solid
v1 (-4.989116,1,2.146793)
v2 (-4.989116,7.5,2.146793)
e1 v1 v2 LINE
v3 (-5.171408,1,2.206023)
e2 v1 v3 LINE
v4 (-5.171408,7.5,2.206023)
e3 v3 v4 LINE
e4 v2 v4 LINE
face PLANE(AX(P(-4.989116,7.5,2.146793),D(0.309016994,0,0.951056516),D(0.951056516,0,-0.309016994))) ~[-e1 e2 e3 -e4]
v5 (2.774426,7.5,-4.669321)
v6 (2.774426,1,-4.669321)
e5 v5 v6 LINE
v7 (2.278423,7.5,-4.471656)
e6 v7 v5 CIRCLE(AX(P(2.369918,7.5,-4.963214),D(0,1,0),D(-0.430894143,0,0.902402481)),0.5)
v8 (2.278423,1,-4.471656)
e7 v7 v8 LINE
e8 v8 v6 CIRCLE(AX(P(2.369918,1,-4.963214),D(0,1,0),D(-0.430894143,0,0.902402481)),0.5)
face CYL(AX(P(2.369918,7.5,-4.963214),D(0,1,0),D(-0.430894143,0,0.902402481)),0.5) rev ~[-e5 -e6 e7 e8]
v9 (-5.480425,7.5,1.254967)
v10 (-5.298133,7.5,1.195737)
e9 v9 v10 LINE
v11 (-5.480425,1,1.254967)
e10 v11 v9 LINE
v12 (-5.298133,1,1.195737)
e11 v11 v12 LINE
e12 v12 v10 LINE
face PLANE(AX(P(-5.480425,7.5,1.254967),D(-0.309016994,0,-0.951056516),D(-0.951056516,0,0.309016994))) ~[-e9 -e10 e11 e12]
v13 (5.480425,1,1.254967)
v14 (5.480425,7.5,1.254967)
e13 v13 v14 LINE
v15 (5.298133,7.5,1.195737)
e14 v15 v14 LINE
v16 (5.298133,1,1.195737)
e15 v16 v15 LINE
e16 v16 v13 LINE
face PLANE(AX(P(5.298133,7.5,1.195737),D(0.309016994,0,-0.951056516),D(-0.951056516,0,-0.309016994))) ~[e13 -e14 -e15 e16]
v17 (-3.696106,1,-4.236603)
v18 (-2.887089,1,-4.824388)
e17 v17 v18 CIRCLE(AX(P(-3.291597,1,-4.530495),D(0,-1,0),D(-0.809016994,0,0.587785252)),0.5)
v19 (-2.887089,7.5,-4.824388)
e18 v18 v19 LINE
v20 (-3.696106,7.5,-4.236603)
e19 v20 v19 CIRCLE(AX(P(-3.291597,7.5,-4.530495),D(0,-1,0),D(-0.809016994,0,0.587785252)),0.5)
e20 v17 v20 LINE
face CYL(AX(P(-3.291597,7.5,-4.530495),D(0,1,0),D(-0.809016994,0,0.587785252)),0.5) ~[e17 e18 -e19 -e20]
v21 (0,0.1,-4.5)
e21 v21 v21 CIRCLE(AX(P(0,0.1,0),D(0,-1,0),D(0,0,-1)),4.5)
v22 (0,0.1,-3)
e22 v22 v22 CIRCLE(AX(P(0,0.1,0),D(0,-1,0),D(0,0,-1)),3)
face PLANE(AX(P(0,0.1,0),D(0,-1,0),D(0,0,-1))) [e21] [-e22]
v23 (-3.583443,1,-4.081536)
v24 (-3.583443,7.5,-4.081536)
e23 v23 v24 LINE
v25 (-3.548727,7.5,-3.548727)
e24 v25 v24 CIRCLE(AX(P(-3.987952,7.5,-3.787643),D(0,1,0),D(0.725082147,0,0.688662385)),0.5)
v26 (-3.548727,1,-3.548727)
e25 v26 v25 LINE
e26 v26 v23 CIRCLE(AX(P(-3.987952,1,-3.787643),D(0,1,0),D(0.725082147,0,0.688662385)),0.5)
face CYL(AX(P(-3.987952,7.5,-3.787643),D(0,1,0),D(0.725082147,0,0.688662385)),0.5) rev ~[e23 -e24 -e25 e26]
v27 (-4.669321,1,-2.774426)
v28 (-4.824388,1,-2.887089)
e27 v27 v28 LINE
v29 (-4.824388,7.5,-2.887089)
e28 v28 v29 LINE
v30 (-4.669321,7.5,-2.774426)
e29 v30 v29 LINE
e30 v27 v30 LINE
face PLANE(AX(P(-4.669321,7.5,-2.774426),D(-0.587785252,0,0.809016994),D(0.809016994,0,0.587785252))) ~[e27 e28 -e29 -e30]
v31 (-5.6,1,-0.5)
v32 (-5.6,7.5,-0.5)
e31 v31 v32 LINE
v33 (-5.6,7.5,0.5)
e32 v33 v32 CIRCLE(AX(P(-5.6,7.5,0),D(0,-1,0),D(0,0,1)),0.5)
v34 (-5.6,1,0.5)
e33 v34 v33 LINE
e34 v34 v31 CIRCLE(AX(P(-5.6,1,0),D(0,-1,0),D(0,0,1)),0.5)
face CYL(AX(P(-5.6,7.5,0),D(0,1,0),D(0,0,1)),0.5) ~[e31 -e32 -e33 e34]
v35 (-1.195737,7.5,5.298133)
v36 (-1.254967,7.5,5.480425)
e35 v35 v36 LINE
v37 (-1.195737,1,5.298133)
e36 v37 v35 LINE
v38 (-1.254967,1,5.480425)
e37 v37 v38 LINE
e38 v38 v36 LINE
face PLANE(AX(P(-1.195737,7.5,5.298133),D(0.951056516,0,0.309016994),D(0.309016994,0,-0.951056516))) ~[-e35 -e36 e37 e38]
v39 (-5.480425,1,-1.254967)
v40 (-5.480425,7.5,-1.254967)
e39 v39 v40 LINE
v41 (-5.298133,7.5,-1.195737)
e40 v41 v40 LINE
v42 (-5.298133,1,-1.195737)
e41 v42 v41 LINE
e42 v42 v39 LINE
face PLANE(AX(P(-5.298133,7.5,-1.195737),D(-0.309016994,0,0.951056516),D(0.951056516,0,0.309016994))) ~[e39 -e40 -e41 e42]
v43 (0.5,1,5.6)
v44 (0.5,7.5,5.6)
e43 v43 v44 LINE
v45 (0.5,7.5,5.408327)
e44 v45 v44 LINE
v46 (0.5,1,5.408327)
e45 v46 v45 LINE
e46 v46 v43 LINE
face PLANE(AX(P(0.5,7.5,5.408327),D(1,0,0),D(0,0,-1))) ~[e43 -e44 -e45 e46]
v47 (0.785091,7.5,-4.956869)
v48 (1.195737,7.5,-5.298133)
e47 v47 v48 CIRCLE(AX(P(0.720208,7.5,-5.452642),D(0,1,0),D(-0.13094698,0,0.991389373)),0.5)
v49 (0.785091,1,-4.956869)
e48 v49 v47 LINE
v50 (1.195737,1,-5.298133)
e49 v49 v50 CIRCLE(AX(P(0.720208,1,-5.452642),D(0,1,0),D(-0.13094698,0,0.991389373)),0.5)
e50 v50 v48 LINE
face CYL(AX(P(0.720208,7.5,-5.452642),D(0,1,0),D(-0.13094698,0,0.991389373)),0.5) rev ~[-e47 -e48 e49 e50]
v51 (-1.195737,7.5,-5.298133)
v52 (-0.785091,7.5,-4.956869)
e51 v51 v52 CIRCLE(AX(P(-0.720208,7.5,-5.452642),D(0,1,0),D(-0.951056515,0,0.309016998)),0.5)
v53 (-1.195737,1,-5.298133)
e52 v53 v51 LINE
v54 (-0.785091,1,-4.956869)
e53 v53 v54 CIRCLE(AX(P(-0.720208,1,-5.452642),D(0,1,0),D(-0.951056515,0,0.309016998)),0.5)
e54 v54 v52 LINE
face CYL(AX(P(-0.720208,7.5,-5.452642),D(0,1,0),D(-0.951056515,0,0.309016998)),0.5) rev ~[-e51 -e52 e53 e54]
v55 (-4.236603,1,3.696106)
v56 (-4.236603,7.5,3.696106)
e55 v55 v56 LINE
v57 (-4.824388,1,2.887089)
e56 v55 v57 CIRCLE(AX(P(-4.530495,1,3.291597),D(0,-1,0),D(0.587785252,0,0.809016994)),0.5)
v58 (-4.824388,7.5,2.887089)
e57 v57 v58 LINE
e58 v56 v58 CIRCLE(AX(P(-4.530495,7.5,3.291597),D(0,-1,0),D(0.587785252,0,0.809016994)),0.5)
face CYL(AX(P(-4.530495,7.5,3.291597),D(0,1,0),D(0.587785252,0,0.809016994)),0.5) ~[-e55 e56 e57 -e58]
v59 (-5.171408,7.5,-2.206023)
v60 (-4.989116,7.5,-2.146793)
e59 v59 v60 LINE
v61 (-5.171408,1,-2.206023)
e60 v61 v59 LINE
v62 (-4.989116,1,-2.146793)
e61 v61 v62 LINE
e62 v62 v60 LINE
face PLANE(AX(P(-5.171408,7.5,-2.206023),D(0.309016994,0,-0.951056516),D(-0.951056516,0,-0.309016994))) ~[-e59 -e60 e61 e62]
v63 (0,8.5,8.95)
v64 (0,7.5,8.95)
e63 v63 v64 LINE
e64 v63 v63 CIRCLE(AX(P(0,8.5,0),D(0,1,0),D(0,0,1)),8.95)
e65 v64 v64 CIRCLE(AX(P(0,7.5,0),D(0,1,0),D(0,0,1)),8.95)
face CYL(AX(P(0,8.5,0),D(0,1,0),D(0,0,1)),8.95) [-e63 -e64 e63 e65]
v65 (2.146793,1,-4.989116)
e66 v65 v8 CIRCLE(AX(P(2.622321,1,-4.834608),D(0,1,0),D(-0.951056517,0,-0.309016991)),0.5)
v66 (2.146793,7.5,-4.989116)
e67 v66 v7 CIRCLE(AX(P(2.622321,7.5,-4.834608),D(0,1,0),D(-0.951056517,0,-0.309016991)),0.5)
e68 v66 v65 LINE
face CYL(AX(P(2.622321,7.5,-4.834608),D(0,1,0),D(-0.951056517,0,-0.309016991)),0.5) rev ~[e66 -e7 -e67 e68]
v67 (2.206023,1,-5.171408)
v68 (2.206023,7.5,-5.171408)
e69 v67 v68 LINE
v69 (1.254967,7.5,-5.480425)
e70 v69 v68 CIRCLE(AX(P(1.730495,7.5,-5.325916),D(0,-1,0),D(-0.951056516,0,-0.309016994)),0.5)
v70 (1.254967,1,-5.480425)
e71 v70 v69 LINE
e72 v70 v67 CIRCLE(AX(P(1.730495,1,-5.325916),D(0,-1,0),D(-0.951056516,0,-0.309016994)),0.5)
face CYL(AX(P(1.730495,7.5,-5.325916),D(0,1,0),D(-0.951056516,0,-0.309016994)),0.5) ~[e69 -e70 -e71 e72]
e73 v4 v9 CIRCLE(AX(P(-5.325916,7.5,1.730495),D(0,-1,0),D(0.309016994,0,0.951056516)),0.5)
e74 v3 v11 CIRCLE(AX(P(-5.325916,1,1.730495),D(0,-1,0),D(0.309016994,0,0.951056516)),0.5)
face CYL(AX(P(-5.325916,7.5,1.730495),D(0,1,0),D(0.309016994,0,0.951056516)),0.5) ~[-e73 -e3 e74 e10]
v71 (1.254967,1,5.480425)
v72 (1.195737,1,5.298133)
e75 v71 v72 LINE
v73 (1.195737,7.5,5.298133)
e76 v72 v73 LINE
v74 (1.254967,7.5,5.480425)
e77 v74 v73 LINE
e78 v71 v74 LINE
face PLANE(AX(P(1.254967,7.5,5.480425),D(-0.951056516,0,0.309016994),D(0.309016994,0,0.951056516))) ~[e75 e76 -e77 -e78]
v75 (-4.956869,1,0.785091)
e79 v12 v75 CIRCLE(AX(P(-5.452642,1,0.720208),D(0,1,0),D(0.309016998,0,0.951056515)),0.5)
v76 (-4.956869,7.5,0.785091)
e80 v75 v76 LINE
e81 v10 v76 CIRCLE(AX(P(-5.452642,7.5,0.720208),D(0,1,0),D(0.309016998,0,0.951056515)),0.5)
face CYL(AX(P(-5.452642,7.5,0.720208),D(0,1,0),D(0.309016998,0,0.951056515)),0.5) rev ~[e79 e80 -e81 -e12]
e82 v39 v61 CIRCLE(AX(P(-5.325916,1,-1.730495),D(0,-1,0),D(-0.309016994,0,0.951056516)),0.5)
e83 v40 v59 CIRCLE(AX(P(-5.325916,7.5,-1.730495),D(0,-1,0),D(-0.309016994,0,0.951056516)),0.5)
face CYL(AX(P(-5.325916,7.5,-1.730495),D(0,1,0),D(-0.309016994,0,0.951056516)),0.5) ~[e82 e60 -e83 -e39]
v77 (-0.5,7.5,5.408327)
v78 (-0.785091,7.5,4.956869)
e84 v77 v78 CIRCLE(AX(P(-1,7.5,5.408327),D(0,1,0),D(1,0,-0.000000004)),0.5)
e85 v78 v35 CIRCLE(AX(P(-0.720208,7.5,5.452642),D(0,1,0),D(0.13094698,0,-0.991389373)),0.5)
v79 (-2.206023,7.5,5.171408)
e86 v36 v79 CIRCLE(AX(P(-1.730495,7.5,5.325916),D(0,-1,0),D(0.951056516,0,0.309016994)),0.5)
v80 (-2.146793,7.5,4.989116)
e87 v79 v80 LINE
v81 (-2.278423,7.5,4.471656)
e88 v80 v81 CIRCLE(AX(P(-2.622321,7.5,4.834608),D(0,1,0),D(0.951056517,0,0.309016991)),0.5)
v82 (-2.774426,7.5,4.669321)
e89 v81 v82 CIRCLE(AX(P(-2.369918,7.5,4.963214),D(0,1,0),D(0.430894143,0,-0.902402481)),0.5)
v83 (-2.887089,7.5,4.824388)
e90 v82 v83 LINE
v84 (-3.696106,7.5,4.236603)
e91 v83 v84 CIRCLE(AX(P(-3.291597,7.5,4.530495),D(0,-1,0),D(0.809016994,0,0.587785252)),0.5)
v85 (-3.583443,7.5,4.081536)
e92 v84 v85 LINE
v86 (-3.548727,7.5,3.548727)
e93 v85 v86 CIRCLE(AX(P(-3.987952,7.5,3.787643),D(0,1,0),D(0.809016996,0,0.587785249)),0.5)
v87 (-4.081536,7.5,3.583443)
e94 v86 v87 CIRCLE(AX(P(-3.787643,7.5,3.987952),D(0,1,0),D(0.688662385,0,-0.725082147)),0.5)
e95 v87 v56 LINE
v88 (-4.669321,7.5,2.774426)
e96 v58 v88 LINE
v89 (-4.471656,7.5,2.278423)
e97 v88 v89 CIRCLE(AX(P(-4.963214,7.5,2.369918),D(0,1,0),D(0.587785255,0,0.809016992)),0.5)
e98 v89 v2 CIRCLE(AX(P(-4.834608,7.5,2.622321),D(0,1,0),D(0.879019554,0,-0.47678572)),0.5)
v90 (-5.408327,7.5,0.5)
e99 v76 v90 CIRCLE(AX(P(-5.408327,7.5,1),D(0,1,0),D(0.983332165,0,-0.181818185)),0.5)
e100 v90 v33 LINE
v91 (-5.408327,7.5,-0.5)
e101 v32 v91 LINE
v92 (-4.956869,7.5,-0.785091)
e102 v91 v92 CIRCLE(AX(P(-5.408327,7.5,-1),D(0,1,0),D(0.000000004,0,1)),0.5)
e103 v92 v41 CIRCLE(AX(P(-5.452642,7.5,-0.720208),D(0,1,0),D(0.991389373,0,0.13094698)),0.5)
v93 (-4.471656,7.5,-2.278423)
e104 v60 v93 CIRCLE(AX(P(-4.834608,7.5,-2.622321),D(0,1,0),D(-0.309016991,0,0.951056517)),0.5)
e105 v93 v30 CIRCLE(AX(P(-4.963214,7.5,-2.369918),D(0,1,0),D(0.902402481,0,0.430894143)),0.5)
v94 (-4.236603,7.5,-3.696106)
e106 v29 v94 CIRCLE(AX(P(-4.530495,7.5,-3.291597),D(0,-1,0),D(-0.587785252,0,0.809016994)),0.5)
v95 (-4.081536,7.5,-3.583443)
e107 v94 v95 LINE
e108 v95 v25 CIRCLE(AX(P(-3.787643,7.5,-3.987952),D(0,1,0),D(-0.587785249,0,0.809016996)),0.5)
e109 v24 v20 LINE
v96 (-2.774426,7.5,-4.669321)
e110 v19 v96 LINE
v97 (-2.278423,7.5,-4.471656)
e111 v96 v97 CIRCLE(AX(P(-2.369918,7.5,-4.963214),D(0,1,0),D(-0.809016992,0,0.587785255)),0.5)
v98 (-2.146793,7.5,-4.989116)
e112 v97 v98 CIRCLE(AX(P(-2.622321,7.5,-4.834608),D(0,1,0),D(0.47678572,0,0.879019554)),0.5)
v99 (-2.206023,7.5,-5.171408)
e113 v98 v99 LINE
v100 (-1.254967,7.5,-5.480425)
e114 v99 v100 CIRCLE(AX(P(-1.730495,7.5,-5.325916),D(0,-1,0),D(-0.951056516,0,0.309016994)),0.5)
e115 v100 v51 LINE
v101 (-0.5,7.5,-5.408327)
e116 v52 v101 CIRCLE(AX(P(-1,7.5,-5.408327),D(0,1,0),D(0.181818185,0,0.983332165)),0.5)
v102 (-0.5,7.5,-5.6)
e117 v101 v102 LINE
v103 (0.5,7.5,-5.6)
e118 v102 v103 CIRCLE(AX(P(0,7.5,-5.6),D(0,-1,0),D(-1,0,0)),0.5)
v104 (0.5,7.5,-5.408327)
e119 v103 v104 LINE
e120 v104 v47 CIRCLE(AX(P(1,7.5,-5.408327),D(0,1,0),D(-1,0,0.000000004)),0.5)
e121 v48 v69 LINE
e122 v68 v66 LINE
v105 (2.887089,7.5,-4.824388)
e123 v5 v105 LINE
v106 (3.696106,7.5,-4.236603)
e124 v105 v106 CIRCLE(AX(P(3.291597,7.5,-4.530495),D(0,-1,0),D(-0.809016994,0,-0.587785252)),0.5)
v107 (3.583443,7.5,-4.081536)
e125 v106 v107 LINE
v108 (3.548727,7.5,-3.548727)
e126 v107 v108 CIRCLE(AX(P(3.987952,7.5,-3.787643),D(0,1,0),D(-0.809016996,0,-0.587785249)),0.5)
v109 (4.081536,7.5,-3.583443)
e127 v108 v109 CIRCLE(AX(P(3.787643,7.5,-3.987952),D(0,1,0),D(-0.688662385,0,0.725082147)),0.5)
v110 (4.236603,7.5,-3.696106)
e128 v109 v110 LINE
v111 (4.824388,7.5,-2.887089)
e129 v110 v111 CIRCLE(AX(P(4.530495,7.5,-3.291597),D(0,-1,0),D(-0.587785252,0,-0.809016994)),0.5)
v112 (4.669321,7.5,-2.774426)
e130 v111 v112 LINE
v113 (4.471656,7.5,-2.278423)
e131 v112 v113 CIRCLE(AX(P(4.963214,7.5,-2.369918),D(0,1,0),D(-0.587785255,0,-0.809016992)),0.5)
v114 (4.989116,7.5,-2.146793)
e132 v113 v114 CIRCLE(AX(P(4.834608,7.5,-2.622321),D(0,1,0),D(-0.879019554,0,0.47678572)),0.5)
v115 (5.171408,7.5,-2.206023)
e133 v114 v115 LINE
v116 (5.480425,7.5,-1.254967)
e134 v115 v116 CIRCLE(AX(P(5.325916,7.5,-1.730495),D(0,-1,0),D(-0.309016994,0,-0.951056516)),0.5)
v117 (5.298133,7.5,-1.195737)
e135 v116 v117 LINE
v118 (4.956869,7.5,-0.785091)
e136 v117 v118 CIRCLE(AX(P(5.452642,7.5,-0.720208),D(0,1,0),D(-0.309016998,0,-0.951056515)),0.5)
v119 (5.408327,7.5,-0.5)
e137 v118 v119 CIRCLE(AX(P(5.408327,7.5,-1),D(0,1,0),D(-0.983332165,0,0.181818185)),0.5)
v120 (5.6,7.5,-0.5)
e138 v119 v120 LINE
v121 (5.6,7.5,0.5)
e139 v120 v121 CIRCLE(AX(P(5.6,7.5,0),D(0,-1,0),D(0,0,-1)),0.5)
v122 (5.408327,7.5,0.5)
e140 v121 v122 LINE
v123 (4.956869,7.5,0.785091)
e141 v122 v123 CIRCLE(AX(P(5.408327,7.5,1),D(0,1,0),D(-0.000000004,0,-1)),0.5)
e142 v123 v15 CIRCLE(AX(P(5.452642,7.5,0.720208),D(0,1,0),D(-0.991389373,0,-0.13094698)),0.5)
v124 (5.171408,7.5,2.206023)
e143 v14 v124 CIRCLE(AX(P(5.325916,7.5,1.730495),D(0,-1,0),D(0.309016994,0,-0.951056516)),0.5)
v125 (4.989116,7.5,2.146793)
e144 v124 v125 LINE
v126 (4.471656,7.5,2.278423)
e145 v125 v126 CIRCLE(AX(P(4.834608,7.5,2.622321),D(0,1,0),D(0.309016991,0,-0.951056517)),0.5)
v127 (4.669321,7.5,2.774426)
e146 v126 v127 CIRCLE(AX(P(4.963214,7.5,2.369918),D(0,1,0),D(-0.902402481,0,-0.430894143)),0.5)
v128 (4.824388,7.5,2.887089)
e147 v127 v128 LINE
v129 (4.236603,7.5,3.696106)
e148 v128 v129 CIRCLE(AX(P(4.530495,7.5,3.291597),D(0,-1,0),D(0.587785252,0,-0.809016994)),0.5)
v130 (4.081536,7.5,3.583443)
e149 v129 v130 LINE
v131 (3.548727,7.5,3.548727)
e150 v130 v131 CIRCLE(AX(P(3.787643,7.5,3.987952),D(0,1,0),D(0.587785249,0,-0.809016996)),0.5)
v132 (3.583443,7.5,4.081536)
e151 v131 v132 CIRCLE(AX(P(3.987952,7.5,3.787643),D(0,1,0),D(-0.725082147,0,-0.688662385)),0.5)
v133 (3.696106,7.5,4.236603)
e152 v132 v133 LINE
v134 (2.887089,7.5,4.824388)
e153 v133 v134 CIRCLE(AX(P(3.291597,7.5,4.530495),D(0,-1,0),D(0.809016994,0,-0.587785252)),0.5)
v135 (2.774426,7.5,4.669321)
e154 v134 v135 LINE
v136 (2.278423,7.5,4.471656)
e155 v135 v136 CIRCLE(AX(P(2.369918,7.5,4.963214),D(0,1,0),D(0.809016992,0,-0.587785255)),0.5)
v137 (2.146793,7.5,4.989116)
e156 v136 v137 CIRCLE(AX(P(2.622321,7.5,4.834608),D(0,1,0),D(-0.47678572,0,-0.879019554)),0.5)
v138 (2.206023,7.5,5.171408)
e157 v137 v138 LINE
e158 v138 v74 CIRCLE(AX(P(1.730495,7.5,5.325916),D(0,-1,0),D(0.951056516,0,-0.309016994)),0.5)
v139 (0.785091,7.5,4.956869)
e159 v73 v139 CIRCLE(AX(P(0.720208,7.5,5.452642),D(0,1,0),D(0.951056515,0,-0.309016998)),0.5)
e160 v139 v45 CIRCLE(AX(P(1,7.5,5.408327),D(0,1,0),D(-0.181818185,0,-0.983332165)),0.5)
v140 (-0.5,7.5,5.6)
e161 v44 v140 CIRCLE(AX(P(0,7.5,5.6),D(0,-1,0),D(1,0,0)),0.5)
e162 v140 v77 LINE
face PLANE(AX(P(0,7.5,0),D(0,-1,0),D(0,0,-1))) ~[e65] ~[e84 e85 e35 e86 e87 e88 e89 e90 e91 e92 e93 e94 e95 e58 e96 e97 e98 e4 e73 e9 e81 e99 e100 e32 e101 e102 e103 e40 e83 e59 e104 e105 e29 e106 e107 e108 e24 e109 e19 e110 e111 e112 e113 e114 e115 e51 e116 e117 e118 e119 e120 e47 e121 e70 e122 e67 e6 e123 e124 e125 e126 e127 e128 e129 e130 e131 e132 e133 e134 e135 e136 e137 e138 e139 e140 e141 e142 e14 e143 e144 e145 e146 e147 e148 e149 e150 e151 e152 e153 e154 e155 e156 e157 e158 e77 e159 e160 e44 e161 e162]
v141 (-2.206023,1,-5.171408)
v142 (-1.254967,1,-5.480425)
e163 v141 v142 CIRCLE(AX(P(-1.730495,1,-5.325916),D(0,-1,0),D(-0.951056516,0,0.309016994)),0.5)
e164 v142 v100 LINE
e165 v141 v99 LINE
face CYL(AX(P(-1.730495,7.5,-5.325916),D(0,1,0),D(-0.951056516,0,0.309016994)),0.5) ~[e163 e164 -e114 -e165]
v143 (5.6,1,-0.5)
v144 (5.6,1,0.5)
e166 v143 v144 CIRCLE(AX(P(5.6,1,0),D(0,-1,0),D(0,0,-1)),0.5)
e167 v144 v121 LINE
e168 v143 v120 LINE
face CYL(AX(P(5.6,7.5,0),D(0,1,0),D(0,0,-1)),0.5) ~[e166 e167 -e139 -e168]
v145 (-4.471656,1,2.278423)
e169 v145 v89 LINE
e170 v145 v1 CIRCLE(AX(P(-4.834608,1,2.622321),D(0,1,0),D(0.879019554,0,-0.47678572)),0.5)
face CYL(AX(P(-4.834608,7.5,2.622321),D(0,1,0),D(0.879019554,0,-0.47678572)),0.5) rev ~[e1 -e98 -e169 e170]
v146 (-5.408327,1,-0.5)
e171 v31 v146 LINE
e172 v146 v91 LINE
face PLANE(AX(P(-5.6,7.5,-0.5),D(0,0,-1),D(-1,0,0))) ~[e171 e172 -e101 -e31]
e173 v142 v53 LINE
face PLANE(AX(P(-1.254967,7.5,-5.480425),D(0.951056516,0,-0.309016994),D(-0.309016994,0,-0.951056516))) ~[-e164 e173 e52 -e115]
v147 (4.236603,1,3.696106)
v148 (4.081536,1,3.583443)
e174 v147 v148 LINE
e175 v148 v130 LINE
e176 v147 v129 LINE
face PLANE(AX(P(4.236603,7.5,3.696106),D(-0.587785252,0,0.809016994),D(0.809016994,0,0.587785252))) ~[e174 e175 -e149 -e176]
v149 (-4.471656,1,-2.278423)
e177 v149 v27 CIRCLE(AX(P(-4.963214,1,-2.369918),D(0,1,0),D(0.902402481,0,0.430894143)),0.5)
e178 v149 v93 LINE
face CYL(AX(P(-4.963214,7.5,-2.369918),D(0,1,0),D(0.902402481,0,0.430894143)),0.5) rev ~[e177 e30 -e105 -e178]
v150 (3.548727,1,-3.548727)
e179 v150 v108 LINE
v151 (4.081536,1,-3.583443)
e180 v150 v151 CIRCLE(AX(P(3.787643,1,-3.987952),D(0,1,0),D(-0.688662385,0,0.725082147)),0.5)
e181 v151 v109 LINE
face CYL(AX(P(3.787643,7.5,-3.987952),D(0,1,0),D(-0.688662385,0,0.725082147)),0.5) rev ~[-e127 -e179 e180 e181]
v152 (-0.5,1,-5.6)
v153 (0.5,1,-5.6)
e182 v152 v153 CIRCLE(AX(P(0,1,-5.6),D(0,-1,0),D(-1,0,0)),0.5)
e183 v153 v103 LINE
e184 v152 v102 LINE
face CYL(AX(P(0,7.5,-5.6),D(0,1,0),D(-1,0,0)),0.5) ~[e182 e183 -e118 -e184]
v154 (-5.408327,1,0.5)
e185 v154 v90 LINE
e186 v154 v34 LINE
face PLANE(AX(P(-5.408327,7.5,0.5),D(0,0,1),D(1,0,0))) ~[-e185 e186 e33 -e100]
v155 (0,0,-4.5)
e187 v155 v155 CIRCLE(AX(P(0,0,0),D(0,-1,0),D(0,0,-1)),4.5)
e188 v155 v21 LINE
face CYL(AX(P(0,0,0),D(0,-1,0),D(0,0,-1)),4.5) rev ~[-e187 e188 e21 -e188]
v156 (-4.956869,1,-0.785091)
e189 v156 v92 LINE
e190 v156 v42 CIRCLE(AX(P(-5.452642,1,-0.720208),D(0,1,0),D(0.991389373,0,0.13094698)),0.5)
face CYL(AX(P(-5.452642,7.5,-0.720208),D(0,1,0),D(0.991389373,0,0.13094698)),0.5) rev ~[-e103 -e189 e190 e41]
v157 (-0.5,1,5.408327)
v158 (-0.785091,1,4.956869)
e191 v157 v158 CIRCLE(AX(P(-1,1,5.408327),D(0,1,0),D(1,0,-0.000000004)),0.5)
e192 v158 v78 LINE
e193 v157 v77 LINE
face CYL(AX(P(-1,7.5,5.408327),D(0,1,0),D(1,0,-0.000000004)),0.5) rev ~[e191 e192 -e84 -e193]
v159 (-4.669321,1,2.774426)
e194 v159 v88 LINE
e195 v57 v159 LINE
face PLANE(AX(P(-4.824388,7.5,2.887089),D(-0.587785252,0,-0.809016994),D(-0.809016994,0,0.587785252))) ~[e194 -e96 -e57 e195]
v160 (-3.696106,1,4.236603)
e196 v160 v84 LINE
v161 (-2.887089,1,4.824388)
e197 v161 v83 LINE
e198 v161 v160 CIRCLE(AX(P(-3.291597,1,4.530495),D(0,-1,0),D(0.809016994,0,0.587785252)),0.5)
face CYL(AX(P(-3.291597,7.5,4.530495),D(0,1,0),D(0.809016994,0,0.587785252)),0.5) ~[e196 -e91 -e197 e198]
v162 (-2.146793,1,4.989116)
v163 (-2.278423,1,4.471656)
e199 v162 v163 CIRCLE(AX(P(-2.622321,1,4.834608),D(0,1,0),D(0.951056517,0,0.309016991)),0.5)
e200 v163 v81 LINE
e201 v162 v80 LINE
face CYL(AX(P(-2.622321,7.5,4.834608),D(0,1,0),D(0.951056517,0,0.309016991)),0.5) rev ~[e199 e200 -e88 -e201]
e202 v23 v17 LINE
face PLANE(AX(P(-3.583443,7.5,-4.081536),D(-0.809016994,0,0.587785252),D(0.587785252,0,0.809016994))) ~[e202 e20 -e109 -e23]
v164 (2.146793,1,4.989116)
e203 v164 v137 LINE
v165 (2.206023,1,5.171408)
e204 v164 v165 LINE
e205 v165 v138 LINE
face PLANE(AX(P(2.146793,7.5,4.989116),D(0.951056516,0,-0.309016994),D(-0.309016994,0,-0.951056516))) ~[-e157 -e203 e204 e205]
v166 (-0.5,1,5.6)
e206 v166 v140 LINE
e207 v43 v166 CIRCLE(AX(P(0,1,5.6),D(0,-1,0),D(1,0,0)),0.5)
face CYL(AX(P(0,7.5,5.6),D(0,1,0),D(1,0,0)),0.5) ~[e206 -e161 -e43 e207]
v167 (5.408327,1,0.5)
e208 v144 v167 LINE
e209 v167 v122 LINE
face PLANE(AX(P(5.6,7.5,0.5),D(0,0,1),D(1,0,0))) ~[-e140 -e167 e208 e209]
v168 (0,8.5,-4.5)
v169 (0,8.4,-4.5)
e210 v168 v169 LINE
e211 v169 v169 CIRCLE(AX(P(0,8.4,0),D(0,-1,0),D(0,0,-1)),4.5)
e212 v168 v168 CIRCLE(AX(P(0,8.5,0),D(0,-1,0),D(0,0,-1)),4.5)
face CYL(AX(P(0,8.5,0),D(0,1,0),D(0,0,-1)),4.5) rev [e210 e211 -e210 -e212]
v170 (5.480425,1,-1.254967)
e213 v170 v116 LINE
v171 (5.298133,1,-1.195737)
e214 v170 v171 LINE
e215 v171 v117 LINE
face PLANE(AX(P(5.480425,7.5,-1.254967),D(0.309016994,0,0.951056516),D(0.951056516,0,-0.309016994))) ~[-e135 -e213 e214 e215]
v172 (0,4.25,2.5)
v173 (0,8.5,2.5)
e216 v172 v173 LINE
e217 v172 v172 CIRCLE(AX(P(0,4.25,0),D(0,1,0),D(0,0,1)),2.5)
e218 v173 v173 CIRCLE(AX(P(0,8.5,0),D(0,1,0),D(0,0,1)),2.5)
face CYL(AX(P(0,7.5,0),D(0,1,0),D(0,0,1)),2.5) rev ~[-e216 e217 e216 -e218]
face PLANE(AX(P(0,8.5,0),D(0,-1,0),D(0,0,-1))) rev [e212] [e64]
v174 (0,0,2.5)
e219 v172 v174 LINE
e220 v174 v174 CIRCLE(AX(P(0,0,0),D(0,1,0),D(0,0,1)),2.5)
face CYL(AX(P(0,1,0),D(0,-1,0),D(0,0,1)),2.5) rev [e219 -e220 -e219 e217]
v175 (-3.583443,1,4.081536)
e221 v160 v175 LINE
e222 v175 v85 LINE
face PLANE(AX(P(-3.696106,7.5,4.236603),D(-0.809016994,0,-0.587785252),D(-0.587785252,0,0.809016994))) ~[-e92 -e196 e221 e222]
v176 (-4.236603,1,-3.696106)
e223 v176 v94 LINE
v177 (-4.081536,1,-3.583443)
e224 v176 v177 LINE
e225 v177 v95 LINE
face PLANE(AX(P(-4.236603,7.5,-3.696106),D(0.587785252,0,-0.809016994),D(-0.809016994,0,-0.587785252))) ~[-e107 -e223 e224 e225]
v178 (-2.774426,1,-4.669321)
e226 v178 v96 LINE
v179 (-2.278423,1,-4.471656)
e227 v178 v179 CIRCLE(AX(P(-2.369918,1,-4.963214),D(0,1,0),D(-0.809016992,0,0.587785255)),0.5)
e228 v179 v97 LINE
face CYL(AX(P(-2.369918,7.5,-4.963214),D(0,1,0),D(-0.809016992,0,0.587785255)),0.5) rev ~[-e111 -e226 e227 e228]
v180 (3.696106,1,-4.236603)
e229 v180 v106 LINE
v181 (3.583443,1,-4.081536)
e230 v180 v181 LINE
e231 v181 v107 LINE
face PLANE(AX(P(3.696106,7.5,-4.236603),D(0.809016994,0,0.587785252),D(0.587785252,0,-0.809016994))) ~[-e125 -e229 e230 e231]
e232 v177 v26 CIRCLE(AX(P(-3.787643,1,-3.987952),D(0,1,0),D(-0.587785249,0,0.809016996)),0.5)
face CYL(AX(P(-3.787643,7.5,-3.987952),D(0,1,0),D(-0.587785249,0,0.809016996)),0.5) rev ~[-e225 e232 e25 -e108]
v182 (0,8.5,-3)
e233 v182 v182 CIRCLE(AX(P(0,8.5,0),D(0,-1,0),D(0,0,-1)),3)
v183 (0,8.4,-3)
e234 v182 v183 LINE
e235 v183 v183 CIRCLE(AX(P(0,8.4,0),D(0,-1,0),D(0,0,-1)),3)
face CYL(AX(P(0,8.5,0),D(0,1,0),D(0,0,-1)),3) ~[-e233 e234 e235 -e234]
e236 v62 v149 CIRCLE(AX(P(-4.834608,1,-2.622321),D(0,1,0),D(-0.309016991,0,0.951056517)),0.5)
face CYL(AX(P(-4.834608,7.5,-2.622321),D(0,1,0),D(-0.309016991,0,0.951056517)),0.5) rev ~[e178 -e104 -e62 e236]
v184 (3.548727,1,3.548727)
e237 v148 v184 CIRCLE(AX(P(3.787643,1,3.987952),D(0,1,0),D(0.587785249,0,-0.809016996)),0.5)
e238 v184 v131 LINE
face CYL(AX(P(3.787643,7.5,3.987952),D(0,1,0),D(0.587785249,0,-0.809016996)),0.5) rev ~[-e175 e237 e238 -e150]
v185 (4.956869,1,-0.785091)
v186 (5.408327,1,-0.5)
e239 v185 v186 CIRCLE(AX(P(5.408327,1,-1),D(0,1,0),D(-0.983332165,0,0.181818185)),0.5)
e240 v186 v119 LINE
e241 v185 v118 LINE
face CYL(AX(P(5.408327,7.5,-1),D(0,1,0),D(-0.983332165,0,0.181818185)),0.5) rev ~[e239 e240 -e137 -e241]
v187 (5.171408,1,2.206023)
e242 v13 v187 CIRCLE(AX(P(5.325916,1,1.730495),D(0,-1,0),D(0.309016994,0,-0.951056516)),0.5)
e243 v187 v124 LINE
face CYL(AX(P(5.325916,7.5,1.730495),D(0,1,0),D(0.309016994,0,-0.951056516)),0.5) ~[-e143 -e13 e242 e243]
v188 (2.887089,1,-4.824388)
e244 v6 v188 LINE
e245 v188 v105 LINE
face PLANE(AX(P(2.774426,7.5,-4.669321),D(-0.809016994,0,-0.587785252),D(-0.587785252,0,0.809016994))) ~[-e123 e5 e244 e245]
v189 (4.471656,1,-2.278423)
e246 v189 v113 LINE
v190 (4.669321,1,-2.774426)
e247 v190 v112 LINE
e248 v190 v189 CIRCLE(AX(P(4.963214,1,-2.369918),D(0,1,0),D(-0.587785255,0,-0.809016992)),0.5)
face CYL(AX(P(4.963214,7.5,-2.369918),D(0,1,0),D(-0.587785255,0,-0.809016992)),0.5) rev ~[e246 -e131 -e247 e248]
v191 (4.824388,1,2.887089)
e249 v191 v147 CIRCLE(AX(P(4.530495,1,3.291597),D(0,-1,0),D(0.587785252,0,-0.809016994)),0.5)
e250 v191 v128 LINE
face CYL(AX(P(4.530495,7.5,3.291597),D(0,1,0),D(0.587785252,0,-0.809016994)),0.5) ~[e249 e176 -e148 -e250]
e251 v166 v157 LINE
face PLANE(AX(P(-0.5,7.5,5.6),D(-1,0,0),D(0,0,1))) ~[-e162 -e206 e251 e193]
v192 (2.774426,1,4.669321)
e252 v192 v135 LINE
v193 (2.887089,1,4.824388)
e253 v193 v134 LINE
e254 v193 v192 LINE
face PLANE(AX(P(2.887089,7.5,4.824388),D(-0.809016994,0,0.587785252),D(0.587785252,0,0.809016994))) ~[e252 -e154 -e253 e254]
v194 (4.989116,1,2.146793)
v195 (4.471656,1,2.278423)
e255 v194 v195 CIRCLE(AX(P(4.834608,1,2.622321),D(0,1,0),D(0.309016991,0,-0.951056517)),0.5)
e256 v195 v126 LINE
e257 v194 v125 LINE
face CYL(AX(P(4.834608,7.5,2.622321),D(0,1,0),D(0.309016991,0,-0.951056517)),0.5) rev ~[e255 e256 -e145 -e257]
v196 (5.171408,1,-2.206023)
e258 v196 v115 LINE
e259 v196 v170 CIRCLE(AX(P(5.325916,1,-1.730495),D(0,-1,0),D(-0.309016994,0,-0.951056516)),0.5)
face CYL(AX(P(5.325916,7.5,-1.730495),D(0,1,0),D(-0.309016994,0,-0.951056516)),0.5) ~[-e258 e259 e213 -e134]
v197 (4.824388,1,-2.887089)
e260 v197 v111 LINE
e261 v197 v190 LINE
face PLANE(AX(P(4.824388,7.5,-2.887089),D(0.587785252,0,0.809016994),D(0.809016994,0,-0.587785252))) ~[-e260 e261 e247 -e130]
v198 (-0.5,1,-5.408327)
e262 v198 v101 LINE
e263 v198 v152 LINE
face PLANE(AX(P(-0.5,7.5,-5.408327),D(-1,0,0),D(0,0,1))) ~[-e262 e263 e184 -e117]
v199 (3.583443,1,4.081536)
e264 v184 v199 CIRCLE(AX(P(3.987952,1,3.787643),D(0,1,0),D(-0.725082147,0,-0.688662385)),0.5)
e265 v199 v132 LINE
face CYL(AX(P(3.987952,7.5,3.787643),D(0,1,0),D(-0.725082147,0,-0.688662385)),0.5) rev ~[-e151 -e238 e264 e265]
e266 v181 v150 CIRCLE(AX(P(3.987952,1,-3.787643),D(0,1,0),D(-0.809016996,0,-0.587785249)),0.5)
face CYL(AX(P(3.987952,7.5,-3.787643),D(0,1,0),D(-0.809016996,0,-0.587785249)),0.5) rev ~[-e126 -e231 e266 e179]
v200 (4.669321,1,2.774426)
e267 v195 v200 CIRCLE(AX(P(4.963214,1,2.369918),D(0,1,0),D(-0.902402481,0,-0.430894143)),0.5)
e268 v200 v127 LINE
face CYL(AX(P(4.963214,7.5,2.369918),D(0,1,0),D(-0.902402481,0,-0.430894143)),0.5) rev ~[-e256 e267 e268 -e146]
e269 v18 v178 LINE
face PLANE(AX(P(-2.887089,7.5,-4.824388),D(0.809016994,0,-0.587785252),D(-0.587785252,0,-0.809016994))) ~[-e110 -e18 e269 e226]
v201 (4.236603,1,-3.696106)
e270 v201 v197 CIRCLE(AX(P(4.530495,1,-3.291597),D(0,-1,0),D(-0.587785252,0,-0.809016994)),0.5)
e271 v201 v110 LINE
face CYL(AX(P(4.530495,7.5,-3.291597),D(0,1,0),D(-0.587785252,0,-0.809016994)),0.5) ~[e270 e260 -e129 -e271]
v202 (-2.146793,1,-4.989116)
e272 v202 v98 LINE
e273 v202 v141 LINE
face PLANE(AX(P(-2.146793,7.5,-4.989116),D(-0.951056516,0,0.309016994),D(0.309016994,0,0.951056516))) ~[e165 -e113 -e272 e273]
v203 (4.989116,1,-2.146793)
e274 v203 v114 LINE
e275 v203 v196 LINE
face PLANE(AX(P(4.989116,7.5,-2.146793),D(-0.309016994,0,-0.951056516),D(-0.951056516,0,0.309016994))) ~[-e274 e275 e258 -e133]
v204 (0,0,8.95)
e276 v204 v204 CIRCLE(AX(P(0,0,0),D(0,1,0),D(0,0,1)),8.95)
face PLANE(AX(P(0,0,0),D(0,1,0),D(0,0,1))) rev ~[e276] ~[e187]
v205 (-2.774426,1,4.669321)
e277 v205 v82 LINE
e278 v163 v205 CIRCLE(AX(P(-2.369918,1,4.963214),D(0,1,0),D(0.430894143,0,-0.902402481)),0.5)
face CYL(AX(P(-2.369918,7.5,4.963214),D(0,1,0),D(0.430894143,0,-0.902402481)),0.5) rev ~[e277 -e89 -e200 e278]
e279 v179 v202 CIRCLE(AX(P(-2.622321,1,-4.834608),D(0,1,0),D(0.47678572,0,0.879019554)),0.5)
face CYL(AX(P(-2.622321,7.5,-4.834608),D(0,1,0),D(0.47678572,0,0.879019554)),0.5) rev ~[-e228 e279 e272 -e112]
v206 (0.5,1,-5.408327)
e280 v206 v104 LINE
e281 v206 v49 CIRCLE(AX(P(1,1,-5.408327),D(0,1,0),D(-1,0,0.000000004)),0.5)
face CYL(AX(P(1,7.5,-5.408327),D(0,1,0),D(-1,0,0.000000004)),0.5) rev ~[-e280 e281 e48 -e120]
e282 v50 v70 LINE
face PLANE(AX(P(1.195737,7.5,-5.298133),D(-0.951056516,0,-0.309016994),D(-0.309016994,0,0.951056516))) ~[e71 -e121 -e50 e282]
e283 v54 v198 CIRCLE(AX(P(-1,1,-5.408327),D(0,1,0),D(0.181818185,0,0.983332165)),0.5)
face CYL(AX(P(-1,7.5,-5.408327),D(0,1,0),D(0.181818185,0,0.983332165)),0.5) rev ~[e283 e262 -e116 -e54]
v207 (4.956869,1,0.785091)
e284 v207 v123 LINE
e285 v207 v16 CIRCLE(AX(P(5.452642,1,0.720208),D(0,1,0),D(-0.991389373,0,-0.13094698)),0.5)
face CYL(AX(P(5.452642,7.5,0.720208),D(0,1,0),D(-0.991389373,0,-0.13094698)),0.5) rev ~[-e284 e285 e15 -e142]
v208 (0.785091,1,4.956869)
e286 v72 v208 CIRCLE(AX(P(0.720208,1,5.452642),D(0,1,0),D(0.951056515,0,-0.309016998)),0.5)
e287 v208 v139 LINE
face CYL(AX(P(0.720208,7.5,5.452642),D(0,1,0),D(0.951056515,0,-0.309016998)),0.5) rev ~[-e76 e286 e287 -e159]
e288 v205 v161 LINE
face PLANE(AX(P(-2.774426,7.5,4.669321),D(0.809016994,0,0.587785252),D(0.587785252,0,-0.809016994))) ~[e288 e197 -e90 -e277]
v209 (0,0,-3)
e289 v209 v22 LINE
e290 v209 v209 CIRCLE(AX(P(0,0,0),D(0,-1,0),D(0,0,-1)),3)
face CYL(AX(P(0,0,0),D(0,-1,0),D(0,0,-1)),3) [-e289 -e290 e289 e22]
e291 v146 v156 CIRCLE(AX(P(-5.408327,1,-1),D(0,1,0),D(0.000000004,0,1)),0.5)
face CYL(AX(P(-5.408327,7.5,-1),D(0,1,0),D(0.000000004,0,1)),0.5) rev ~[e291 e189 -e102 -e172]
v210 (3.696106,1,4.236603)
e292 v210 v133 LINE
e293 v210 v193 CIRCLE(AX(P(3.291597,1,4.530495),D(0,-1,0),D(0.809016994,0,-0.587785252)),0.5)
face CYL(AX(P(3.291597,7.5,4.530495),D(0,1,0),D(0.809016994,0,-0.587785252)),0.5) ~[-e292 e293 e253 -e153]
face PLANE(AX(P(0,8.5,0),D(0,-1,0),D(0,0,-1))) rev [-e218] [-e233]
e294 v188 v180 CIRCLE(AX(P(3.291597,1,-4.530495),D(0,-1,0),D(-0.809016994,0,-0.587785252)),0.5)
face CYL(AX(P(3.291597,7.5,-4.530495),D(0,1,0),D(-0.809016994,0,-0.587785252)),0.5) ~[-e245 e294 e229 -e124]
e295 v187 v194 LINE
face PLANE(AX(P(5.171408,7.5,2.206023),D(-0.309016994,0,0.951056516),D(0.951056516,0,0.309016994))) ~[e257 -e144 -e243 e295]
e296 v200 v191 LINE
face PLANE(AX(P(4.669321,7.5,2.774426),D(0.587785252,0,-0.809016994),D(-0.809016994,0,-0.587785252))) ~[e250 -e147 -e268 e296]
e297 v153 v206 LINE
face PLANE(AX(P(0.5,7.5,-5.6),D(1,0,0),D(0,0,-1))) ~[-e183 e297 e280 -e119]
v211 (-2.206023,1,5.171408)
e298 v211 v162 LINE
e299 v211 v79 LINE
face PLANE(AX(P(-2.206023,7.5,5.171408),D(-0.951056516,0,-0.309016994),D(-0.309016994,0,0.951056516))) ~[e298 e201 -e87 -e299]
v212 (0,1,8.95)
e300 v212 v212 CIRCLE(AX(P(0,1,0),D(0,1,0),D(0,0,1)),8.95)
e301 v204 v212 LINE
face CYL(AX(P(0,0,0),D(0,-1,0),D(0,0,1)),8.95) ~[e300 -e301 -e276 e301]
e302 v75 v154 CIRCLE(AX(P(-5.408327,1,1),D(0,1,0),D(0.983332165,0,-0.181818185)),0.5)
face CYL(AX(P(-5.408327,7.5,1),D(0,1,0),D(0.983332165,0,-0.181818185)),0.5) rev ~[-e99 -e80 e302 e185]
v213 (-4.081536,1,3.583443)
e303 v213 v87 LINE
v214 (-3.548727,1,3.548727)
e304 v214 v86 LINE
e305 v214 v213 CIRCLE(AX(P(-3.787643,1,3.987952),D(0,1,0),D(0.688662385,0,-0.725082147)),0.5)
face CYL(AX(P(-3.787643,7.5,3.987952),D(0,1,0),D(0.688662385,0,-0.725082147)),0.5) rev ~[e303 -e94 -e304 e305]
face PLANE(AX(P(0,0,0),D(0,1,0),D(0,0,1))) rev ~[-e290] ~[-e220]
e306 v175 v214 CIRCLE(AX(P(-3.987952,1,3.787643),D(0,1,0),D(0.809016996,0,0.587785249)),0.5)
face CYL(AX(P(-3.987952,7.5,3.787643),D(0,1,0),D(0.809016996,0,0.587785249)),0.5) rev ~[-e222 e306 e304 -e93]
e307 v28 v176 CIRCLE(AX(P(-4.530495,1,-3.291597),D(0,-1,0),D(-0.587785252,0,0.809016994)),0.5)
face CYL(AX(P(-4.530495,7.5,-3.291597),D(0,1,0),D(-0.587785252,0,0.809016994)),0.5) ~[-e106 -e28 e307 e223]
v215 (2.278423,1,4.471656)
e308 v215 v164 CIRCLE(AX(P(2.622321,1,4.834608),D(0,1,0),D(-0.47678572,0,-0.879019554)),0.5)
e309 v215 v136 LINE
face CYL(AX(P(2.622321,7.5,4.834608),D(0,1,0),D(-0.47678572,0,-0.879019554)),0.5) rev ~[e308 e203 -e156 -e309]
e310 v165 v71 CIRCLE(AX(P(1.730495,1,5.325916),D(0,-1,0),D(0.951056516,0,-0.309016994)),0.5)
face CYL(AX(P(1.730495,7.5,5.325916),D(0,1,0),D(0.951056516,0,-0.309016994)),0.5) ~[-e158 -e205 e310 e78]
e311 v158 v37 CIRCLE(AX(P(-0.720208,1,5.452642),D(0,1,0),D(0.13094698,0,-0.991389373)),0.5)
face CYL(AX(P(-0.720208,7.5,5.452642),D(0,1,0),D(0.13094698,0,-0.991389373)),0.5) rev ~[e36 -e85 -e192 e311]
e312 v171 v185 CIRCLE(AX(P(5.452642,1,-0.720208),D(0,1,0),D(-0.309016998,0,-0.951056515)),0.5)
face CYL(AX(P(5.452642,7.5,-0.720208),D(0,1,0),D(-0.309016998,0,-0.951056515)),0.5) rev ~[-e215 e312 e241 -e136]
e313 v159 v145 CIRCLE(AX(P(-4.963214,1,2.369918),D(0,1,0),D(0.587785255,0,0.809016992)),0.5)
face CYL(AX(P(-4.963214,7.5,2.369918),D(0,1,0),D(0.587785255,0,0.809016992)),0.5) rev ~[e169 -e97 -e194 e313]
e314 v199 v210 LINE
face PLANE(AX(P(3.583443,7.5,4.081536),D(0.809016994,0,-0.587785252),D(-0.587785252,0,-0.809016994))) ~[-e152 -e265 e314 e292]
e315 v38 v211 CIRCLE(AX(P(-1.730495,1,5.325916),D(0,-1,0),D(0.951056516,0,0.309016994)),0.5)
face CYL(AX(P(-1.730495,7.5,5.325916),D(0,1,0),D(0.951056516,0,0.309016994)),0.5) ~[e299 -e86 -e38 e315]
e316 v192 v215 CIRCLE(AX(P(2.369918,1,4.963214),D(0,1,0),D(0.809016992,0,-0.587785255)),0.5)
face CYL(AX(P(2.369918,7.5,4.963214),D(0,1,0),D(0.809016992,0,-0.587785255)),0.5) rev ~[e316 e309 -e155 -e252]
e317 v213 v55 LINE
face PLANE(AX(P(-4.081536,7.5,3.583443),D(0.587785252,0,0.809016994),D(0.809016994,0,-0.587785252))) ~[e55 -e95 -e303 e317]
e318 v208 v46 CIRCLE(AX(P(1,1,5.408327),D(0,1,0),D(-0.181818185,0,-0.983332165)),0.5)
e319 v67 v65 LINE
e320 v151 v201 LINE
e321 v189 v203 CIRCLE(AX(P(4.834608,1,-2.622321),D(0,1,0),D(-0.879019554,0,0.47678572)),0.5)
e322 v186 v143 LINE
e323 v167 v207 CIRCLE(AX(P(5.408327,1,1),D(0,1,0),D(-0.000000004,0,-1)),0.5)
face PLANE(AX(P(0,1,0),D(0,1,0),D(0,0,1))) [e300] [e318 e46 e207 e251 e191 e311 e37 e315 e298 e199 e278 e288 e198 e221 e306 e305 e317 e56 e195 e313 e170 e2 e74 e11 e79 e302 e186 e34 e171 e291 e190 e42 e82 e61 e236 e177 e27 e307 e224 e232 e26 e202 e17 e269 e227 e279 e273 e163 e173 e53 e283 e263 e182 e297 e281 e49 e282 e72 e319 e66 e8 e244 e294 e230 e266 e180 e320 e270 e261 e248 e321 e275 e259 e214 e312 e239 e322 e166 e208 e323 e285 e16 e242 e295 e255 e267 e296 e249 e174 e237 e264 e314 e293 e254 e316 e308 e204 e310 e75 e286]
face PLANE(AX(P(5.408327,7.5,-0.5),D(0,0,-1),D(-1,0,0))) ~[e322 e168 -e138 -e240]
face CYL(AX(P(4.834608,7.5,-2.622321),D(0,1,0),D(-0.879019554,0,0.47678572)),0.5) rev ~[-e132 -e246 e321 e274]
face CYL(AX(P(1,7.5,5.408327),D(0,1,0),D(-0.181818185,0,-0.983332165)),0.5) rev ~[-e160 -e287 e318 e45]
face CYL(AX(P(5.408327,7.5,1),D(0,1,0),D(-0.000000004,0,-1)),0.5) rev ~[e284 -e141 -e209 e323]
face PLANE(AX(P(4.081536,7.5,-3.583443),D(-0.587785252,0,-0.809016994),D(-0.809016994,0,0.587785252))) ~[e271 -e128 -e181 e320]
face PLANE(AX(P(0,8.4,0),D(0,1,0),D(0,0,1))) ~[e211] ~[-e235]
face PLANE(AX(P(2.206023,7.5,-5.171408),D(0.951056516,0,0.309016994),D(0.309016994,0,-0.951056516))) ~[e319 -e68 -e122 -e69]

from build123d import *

# Parameters (mm, degrees)
SKETCH1_R           = 8.95
SKETCH1_R_2         = 2.5
BOSS_EXTRUDE1_DEPTH = 1
SKETCH2_R           = 5
SKETCH2_R_2         = 2.5
BOSS_EXTRUDE2_DEPTH = 3.25
BOSS_EXTRUDE3_DEPTH = 3.25
CIRPATTERN1_COUNT   = 20
SKETCH4_R           = 4.5
SKETCH4_R_2         = 3
CUT_EXTRUDE1_DEPTH  = 0.1


with BuildPart() as part:
    # Sketch1 → Boss-Extrude1 (new body)
    with BuildSketch(Plane(origin=(0, 0, 0), x_dir=(1, 0, 0), z_dir=(0, 1, 0))):
        with Locations(Location((0, 0, 0), (0, 0, 270))):
            Circle(SKETCH1_R)
        with Locations(Location((0, 0, 0), (0, 0, 270))):
            Circle(SKETCH1_R_2, mode=Mode.SUBTRACT)
    extrude(amount=BOSS_EXTRUDE1_DEPTH)

    # Sketch2 → Boss-Extrude2 (add)
    with BuildSketch(Plane(origin=(0, 1, 0), x_dir=(1, 0, 0), z_dir=(0, 1, 0))):
        with Locations(Location((0, 0, 0), (0, 0, 90))):
            Circle(SKETCH2_R)
        with Locations(Location((0, 0, 0), (0, 0, 270))):
            Circle(SKETCH2_R_2, mode=Mode.SUBTRACT)
    extrude(amount=BOSS_EXTRUDE2_DEPTH)

    # Sketch3 → Boss-Extrude3 (add)
    with BuildSketch(Plane(origin=(0, 1, 0), x_dir=(1, 0, 0), z_dir=(0, 1, 0))):
        with BuildLine():
            Line((0.5, 5.6), (0.5, 5.408326913))
            ThreePointArc((0.5, 5.408326913), (0.615646943, 5.088525839), (0.909090909, 4.91666083))
            Line((0.909090909, 4.91666083), (-0.909090909, 4.91666083))
            ThreePointArc((-0.909090909, 4.91666083), (-0.615646943, 5.088525839), (-0.5, 5.408326913))
            Line((-0.5, 5.408326913), (-0.5, 5.6))
            ThreePointArc((-0.5, 5.6), (0, 6.1), (0.5, 5.6))
        make_face()
    boss_extrude3 = extrude(amount=BOSS_EXTRUDE3_DEPTH)

    # CirPattern1: Boss-Extrude3 ×20 about axis
    cirpattern1_axis = Axis((0, 0, 0), (0, 1, 0))
    for i in range(1, CIRPATTERN1_COUNT):
        add(boss_extrude3.rotate(cirpattern1_axis, i * 360 / CIRPATTERN1_COUNT))

    # Sketch4 → Cut-Extrude1 (cut)
    with BuildSketch(Plane.XZ):
        with Locations(Location((0, 0, 0), (0, 0, 270))):
            Circle(SKETCH4_R)
        with Locations(Location((0, 0, 0), (0, 0, 270))):
            Circle(SKETCH4_R_2, mode=Mode.SUBTRACT)
    extrude(amount=-CUT_EXTRUDE1_DEPTH, mode=Mode.SUBTRACT)

    # Mirror1: part across plane


with BuildPart() as part_1:
    add(part.part)
    add(part.part.mirror(Plane.ZX.offset(4.25)))


solid = part_1.part
